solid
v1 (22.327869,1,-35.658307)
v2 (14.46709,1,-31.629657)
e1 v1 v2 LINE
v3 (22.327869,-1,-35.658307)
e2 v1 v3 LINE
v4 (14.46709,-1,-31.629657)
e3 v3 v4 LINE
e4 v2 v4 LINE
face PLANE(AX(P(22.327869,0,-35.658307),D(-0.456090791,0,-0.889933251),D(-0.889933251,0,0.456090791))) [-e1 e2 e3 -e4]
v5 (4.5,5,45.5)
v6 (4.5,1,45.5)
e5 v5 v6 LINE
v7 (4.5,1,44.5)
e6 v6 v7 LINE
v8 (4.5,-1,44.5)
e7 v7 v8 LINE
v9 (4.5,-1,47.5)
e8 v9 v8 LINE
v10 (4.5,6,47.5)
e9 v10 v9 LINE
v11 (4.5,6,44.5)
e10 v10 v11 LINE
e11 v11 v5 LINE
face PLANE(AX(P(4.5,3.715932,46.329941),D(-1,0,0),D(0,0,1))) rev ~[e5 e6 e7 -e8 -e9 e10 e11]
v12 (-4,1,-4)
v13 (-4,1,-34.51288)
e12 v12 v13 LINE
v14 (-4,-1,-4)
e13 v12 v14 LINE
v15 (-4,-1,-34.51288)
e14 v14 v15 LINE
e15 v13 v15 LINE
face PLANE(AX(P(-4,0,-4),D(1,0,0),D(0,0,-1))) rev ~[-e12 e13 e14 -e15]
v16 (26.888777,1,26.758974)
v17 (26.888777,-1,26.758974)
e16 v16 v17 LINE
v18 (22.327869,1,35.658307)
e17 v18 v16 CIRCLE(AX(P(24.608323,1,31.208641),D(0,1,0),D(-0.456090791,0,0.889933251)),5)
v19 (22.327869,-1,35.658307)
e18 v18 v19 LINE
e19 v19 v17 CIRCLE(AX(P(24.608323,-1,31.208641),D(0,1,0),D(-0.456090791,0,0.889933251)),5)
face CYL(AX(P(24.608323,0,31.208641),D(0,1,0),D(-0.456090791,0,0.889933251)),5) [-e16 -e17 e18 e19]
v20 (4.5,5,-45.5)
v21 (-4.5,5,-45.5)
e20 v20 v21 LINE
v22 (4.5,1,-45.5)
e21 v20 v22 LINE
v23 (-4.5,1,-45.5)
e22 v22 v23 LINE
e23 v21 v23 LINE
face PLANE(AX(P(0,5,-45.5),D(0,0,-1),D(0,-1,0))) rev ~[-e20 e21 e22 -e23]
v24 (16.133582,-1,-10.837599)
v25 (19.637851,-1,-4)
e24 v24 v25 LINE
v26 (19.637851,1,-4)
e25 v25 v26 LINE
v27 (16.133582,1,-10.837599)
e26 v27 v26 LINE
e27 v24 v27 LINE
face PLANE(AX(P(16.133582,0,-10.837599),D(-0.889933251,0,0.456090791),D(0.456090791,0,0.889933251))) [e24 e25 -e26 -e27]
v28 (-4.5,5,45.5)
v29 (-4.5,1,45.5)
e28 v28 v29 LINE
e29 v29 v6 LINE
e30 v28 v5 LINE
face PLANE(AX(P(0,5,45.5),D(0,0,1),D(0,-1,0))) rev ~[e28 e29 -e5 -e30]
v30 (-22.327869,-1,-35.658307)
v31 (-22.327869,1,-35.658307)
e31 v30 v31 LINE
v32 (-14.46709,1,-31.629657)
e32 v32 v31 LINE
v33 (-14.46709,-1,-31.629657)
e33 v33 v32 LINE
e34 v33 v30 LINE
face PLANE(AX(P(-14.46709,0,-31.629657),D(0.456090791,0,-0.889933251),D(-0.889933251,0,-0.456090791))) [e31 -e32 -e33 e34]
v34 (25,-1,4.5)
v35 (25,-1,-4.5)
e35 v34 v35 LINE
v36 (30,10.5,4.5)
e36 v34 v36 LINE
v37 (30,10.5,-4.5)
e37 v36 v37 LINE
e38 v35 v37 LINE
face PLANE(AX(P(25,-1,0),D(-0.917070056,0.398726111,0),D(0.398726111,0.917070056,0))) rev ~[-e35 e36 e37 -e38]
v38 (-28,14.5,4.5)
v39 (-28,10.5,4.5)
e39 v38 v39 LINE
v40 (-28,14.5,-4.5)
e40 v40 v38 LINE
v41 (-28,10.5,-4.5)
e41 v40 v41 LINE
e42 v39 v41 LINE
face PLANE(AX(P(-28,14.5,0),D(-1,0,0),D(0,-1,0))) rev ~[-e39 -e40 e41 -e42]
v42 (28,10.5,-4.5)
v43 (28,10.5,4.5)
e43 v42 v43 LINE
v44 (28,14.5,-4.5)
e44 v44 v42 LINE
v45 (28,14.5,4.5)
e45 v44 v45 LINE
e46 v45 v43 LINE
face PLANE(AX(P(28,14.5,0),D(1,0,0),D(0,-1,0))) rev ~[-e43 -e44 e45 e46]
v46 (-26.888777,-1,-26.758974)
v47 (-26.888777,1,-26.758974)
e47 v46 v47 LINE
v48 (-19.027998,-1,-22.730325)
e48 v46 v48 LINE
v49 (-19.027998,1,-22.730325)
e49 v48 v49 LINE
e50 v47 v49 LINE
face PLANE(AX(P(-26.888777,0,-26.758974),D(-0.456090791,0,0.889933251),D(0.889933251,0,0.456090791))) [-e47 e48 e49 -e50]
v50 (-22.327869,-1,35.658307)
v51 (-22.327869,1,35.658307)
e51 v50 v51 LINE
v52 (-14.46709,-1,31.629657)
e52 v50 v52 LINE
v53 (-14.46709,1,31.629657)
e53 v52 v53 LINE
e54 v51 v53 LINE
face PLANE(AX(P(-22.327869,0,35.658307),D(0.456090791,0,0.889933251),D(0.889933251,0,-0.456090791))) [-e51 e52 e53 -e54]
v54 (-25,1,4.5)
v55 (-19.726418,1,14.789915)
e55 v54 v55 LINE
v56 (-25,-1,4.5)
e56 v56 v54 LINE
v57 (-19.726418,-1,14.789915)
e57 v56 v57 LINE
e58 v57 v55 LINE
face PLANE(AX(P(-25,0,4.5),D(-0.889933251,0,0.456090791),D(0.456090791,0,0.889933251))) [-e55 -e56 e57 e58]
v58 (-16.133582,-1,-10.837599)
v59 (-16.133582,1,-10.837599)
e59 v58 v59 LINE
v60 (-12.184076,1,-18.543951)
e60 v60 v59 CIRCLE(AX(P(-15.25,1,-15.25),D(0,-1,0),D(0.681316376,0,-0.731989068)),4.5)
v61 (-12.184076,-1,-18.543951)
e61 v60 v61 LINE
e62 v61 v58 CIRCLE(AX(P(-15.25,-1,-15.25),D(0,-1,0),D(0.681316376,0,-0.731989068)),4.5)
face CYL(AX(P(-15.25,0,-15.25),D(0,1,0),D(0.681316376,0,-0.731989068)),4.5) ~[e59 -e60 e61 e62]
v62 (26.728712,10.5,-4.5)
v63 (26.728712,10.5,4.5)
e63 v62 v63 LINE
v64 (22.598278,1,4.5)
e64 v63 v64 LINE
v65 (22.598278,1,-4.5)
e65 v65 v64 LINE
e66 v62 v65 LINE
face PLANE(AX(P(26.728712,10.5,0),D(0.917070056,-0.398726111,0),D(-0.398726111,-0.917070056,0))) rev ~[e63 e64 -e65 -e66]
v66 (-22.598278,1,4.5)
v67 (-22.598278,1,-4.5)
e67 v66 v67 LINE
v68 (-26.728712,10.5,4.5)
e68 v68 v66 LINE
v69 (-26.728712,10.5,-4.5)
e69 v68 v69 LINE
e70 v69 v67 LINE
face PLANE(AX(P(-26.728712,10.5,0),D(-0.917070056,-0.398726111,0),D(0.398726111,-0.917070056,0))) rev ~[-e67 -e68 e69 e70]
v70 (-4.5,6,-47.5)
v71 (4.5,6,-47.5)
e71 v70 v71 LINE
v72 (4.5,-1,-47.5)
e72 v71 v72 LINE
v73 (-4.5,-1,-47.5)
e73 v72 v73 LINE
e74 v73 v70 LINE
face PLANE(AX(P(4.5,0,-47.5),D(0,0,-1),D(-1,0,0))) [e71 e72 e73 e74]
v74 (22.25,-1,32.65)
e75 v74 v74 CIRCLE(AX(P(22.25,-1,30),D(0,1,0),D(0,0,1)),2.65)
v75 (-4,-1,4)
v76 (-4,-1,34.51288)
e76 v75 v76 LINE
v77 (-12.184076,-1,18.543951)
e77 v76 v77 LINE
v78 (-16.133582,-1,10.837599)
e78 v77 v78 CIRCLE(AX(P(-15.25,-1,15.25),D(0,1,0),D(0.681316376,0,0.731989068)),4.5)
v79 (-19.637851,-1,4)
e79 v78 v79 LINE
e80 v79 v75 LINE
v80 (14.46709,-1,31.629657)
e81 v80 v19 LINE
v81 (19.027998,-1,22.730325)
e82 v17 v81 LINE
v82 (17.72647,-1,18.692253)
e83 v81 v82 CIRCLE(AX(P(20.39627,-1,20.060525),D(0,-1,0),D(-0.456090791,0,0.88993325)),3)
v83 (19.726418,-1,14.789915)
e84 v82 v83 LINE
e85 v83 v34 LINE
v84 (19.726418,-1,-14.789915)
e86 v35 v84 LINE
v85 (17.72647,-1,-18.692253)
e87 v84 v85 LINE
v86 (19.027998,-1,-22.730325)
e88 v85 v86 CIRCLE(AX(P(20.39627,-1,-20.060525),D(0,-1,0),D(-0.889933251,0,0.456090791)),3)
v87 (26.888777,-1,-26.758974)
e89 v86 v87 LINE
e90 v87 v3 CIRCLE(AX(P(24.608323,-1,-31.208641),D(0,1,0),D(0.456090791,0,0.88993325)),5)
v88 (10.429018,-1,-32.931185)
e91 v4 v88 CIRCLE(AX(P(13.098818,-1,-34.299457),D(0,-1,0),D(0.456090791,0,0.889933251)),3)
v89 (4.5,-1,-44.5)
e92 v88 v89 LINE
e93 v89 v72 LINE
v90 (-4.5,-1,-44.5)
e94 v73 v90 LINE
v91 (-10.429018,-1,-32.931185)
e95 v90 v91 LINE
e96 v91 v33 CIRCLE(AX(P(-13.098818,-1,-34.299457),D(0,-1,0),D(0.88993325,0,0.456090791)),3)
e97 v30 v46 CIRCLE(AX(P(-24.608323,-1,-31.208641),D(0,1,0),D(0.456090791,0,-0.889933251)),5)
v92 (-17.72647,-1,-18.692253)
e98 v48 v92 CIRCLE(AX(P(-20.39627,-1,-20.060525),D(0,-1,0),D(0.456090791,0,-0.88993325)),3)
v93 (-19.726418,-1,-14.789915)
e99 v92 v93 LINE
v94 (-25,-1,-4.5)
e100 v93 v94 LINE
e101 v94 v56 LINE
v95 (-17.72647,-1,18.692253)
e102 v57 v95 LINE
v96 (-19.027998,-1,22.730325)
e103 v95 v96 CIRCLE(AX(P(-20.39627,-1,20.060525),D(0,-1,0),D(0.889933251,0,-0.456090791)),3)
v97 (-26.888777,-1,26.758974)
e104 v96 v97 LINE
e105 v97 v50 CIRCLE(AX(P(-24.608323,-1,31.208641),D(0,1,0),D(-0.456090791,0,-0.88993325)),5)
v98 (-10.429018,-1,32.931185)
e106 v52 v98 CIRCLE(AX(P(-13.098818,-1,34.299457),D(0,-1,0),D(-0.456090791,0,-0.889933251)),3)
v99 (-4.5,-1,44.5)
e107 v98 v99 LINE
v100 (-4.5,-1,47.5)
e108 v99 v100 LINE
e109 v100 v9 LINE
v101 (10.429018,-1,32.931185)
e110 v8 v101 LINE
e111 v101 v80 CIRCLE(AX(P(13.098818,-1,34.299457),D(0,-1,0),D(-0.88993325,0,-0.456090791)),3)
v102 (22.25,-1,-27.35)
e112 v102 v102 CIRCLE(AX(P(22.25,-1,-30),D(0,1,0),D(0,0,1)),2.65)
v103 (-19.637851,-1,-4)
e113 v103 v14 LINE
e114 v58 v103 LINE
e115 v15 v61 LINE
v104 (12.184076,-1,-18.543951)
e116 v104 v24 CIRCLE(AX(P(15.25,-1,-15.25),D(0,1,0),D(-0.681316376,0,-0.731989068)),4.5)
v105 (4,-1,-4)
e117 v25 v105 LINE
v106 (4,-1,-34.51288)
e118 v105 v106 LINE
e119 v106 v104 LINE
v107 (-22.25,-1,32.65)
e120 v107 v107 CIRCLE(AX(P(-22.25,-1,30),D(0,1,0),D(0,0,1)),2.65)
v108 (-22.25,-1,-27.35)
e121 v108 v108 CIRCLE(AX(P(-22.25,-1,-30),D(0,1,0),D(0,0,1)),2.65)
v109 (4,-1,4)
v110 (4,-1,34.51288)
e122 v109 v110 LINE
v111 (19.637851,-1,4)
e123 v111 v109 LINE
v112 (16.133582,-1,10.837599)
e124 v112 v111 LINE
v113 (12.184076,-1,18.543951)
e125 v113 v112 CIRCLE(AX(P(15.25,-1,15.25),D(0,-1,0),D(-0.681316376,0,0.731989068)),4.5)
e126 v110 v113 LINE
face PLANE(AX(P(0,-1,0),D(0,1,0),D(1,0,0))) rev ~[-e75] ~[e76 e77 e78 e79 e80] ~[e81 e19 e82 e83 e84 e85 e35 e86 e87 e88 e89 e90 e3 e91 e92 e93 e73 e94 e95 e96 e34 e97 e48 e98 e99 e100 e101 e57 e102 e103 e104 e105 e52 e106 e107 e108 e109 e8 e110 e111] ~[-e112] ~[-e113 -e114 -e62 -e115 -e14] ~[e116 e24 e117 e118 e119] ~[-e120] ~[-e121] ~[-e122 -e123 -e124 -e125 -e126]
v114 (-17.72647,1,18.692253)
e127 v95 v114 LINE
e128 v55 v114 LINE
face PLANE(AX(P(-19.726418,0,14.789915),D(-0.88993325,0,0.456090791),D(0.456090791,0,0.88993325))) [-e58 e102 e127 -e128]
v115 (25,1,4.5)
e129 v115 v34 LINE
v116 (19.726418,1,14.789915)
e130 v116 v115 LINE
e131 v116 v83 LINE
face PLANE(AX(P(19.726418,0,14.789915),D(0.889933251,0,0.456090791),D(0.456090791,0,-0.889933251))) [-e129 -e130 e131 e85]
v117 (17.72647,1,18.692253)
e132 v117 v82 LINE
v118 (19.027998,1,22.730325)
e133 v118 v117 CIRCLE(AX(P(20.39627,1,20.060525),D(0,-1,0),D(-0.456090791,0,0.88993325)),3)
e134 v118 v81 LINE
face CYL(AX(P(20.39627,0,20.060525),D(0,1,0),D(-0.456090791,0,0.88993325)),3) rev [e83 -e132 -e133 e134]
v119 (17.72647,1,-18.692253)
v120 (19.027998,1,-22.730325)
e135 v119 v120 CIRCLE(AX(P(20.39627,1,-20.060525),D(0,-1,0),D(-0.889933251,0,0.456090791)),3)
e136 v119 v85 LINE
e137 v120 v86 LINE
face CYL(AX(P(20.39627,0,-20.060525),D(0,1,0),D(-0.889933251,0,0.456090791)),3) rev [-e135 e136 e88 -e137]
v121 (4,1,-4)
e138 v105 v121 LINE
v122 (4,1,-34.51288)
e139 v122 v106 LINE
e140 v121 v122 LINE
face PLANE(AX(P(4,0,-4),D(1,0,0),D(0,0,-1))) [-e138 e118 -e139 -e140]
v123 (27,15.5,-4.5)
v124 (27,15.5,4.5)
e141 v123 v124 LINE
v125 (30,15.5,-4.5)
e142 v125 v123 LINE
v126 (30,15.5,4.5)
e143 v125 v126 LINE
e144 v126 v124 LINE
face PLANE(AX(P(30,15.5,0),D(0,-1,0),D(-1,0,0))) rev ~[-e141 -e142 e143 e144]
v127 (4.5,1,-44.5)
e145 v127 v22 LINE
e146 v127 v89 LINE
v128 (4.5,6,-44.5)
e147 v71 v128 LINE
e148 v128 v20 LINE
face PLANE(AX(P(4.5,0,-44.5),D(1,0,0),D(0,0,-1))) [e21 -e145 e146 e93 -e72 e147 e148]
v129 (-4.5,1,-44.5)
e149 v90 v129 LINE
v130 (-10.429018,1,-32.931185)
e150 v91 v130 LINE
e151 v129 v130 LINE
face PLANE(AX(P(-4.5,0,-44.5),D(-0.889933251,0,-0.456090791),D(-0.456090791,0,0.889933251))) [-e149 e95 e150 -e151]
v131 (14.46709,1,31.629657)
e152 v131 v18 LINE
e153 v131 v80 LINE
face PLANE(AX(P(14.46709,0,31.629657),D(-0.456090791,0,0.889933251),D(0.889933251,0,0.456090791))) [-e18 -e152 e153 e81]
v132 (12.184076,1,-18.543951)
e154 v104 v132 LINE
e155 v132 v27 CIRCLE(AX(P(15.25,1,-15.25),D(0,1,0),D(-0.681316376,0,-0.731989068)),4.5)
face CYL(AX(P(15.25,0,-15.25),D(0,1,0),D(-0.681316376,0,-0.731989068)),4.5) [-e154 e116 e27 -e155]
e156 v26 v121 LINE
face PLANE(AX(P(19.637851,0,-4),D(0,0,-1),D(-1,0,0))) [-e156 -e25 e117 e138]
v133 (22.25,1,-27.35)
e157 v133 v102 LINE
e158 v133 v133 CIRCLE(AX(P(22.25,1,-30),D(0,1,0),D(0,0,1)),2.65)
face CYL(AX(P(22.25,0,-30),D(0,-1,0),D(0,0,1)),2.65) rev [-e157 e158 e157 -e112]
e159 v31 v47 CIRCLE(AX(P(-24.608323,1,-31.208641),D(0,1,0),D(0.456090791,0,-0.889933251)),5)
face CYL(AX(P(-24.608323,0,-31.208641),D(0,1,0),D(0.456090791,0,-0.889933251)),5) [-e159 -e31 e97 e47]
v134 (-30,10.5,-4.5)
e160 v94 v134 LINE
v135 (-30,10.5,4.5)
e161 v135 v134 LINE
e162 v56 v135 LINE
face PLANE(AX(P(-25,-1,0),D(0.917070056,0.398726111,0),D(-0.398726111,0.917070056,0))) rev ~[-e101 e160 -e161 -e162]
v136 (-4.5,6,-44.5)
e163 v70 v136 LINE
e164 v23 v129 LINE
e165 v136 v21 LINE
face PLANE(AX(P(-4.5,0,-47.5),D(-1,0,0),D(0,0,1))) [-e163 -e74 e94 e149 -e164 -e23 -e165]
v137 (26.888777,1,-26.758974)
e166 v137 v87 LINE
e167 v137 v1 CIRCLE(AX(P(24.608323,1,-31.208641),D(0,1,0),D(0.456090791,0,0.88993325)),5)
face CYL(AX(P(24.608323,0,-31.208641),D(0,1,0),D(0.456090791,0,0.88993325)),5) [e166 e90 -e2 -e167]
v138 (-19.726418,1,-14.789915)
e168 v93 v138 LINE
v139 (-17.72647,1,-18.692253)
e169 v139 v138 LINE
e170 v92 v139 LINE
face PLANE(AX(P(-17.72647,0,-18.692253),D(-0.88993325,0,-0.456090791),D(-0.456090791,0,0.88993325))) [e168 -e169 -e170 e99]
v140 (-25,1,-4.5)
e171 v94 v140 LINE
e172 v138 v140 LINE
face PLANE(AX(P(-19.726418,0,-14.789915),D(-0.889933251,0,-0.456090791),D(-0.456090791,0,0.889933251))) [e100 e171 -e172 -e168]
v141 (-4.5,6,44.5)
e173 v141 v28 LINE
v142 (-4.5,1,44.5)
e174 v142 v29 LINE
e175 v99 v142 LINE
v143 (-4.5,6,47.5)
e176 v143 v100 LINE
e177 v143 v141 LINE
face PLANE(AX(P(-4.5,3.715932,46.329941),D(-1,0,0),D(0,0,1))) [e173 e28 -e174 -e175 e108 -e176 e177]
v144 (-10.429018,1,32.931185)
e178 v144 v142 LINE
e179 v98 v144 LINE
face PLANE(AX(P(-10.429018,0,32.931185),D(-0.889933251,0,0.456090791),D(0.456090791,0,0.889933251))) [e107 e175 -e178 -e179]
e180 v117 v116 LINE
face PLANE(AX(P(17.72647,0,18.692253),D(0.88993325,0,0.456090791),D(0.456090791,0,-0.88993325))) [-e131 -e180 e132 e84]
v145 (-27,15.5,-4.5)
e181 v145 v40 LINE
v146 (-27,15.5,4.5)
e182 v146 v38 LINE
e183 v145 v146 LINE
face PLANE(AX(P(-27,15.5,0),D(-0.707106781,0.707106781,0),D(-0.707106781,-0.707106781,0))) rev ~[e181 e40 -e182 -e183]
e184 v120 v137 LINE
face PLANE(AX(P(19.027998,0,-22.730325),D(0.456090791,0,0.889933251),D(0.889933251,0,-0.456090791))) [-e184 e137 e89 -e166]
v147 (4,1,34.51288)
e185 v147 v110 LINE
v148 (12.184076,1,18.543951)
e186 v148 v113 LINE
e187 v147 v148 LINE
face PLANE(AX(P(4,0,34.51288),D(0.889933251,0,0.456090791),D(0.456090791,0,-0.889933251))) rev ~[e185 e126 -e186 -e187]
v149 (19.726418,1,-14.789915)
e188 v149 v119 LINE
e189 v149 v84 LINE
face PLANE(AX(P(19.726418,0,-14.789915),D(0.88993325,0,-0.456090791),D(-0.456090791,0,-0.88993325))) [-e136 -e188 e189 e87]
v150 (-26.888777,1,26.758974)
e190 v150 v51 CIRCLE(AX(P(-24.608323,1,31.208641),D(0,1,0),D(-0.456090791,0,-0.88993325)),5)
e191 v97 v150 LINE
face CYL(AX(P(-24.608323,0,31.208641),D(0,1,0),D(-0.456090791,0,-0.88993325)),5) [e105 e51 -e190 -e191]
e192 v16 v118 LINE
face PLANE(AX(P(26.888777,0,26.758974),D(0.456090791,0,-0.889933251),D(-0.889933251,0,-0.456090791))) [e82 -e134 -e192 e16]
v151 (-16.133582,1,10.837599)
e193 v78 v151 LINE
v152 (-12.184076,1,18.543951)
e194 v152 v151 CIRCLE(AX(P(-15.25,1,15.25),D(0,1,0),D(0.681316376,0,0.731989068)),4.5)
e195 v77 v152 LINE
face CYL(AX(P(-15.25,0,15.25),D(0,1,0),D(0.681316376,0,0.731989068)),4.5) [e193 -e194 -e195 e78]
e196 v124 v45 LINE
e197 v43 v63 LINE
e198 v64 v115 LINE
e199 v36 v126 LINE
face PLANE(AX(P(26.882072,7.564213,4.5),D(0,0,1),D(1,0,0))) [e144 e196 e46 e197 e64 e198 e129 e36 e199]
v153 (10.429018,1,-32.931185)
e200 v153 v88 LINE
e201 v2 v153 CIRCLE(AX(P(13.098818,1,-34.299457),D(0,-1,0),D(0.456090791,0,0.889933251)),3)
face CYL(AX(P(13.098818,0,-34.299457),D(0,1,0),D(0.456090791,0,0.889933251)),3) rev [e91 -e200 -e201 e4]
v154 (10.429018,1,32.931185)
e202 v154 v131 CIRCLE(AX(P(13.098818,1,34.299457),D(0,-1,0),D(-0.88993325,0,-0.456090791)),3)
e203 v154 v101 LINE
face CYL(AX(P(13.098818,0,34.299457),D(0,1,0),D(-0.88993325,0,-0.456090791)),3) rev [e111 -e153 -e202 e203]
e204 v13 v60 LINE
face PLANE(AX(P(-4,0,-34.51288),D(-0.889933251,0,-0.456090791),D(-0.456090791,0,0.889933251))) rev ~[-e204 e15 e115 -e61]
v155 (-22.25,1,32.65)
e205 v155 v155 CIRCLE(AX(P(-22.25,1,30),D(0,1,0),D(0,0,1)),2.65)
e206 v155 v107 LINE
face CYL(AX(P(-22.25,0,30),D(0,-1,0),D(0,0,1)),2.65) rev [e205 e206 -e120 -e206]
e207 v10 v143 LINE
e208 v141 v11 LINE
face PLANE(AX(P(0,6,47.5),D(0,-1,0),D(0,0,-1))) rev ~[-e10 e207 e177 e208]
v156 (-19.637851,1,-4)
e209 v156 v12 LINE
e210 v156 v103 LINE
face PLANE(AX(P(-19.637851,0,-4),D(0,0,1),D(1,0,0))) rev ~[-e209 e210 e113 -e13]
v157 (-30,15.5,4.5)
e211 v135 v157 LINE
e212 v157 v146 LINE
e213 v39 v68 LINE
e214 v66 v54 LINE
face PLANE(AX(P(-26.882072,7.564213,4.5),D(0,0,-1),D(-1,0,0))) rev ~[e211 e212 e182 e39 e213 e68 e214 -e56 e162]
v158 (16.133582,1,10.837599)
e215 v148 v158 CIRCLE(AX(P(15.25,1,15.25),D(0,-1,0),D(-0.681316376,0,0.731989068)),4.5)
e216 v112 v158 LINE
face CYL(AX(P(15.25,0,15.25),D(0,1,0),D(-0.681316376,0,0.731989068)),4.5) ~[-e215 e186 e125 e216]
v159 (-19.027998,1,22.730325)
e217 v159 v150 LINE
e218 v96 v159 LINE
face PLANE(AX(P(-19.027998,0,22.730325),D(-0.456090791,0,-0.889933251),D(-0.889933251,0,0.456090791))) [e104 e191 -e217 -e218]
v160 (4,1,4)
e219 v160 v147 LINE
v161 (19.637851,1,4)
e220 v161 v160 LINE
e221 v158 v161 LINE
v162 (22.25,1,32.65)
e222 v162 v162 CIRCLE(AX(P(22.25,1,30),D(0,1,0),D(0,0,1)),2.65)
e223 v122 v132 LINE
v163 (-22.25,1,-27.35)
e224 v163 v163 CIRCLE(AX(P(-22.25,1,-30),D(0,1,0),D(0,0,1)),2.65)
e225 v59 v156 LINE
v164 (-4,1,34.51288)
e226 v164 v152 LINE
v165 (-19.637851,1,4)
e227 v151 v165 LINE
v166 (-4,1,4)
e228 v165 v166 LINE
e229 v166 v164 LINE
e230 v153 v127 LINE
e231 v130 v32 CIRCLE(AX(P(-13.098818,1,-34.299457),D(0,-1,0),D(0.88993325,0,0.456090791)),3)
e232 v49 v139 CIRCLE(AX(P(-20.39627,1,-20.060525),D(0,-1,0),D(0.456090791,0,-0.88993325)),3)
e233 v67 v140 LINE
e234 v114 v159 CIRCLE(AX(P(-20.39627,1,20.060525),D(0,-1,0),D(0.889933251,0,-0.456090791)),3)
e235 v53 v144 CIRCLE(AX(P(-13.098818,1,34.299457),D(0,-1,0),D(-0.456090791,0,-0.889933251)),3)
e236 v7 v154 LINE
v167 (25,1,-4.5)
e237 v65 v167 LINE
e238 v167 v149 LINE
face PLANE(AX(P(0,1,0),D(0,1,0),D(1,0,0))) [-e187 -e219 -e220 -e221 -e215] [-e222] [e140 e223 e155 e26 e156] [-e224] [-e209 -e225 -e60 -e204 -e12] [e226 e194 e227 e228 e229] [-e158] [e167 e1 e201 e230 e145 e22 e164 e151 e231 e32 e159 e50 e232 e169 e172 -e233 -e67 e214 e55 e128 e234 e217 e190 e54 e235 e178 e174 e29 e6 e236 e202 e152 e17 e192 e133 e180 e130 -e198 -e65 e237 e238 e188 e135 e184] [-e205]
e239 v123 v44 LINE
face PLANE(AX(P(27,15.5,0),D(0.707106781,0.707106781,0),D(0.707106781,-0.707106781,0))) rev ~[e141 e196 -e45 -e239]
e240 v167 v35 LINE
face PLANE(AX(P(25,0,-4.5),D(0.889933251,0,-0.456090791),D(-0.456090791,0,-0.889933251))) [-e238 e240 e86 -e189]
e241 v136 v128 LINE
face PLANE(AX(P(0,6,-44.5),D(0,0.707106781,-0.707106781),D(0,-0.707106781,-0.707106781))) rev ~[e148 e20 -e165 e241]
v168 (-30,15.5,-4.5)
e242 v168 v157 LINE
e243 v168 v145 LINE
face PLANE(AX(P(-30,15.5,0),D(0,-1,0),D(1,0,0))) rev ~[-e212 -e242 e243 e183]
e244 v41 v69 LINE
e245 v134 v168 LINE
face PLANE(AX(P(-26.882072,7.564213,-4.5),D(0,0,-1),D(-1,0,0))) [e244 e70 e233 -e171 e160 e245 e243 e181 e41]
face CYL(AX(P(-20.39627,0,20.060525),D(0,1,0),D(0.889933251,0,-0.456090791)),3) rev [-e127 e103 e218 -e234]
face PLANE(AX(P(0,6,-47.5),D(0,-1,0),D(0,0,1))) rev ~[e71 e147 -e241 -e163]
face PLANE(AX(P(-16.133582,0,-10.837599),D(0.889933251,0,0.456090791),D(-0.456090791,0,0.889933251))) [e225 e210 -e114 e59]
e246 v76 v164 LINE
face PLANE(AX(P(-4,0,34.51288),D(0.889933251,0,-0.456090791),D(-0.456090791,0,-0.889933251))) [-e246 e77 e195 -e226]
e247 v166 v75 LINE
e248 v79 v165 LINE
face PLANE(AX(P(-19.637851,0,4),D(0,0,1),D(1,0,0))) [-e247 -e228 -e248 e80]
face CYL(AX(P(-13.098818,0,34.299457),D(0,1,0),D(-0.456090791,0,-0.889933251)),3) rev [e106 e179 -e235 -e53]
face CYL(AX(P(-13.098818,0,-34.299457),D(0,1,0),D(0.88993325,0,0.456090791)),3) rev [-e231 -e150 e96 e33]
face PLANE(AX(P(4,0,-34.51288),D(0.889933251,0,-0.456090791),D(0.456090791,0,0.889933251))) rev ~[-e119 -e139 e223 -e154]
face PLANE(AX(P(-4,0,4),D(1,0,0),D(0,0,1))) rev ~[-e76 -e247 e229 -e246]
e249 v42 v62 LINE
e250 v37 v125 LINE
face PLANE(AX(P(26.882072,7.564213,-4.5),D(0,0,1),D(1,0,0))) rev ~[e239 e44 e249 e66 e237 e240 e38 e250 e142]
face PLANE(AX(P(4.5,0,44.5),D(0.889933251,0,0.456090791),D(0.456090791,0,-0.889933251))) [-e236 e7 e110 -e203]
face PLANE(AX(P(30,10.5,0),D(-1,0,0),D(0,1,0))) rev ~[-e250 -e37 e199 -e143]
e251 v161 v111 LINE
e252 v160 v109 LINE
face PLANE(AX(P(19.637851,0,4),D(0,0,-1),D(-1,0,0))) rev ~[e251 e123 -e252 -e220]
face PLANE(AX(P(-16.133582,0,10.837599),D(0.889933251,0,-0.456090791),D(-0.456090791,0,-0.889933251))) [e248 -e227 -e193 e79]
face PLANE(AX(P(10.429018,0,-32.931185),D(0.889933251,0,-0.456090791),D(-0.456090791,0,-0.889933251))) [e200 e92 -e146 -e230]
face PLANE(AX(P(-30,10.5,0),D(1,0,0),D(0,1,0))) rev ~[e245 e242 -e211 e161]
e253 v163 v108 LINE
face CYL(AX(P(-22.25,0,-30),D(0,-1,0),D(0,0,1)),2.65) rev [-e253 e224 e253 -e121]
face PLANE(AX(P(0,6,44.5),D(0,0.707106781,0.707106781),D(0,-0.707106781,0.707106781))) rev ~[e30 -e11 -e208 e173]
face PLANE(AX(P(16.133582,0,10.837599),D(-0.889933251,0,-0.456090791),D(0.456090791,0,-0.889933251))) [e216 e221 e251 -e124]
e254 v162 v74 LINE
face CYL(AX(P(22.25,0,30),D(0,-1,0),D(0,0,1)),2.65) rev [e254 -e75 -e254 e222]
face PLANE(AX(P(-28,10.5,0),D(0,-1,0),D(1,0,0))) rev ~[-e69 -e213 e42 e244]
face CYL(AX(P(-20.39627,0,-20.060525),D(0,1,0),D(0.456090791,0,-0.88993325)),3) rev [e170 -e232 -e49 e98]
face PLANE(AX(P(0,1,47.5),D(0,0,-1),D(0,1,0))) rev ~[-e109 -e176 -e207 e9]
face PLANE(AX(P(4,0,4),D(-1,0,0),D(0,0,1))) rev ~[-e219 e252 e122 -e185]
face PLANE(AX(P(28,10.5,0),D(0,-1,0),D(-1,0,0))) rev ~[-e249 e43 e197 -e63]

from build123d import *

# Parameters (mm, degrees)
SKETCH1_R           = 2.65
BOSS_EXTRUDE1_DEPTH = 1
BOSS_EXTRUDE4_DEPTH = 4.5
BOSS_EXTRUDE5_DEPTH = 4.5


with BuildPart() as part:
    # Sketch1 → Boss-Extrude1 (new, symmetric)
    with BuildSketch(Plane(origin=(0, 0, 0), x_dir=(1, 0, 0), z_dir=(0, 1, 0))):
        with BuildLine():
            Line((4.5, 47.5), (-4.5, 47.5))
            Line((-4.5, 47.5), (-4.5, 44.5))
            Line((-4.5, 44.5), (-10.429017764, 32.931184851))
            ThreePointArc((-10.429017764, 32.931184851), (-12.17849868, 31.444109042), (-14.467089888, 31.629657472))
            Line((-14.467089888, 31.629657472), (-22.327869159, 35.658306849))
            ThreePointArc((-22.327869159, 35.658306849), (-29.057989367, 33.48909455), (-26.888777069, 26.758974343))
            Line((-26.888777069, 26.758974343), (-19.027997797, 22.730324967))
            ThreePointArc((-19.027997797, 22.730324967), (-17.540921988, 20.980844051), (-17.726470418, 18.692252842))
            Line((-17.726470418, 18.692252842), (-19.726418437, 14.789915246))
            Line((-19.726418437, 14.789915246), (-25, 4.5))
            Line((-25, 4.5), (-25, -4.5))
            Line((-25, -4.5), (-19.726418437, -14.789915246))
            Line((-19.726418437, -14.789915246), (-17.726470418, -18.692252842))
            ThreePointArc((-17.726470418, -18.692252842), (-17.540921988, -20.980844051), (-19.027997797, -22.730324967))
            Line((-19.027997797, -22.730324967), (-26.888777069, -26.758974343))
            ThreePointArc((-26.888777069, -26.758974343), (-29.057989367, -33.48909455), (-22.327869159, -35.658306849))
            Line((-22.327869159, -35.658306849), (-14.467089888, -31.629657472))
            ThreePointArc((-14.467089888, -31.629657472), (-12.17849868, -31.444109042), (-10.429017764, -32.931184851))
            Line((-10.429017764, -32.931184851), (-4.5, -44.5))
            Line((-4.5, -44.5), (-4.5, -47.5))
            Line((-4.5, -47.5), (4.5, -47.5))
            Line((4.5, -47.5), (4.5, -44.5))
            Line((4.5, -44.5), (10.429017764, -32.931184851))
            ThreePointArc((10.429017764, -32.931184851), (12.17849868, -31.444109042), (14.467089888, -31.629657472))
            Line((14.467089888, -31.629657472), (22.327869159, -35.658306849))
            ThreePointArc((22.327869159, -35.658306849), (29.057989367, -33.48909455), (26.888777069, -26.758974343))
            Line((26.888777069, -26.758974343), (19.027997797, -22.730324967))
            ThreePointArc((19.027997797, -22.730324967), (17.540921988, -20.980844051), (17.726470418, -18.692252842))
            Line((17.726470418, -18.692252842), (19.726418437, -14.789915246))
            Line((19.726418437, -14.789915246), (25, -4.5))
            Line((25, -4.5), (25, 4.5))
            Line((25, 4.5), (19.726418437, 14.789915246))
            Line((19.726418437, 14.789915246), (17.726470418, 18.692252842))
            ThreePointArc((17.726470418, 18.692252842), (17.540921988, 20.980844051), (19.027997797, 22.730324967))
            Line((19.027997797, 22.730324967), (26.888777069, 26.758974343))
            ThreePointArc((26.888777069, 26.758974343), (29.057989367, 33.48909455), (22.327869159, 35.658306849))
            Line((22.327869159, 35.658306849), (14.467089888, 31.629657472))
            ThreePointArc((14.467089888, 31.629657472), (12.17849868, 31.444109042), (10.429017764, 32.931184851))
            Line((10.429017764, 32.931184851), (4.5, 44.5))
            Line((4.5, 44.5), (4.5, 47.5))
        make_face()
        with Locations(Location((-22.25, 30, 0), (0, 0, 270))):
            Circle(SKETCH1_R, mode=Mode.SUBTRACT)
        with Locations(Location((-22.25, -30, 0), (0, 0, 270))):
            Circle(SKETCH1_R, mode=Mode.SUBTRACT)
        with Locations(Location((22.25, 30, 0), (0, 0, 270))):
            Circle(SKETCH1_R, mode=Mode.SUBTRACT)
        with Locations(Location((22.25, -30, 0), (0, 0, 270))):
            Circle(SKETCH1_R, mode=Mode.SUBTRACT)
        with BuildLine():
            Line((-4, 34.512880186), (-12.184076307, 18.543950806))
            ThreePointArc((-12.184076307, 18.543950806), (-11.245300372, 13.197591441), (-16.133581658, 10.837598902))
            Line((-16.133581658, 10.837598902), (-19.637851096, 4))
            Line((-19.637851096, 4), (-4, 4))
            Line((-4, 4), (-4, 34.512880186))
        make_face(mode=Mode.SUBTRACT)
        with BuildLine():
            Line((4, 4), (4, 34.512880186))
            Line((4, 34.512880186), (12.184076307, 18.543950806))
            ThreePointArc((12.184076307, 18.543950806), (11.245300372, 13.197591441), (16.133581658, 10.837598902))
            Line((16.133581658, 10.837598902), (19.637851096, 4))
            Line((19.637851096, 4), (4, 4))
        make_face(mode=Mode.SUBTRACT)
        with BuildLine():
            Line((4, -34.512880186), (12.184076307, -18.543950806))
            ThreePointArc((12.184076307, -18.543950806), (11.245300372, -13.197591441), (16.133581658, -10.837598902))
            Line((16.133581658, -10.837598902), (19.637851096, -4))
            Line((19.637851096, -4), (4, -4))
            Line((4, -4), (4, -34.512880186))
        make_face(mode=Mode.SUBTRACT)
        with BuildLine():
            Line((-4, -4), (-4, -34.512880186))
            Line((-4, -34.512880186), (-12.184076307, -18.543950806))
            ThreePointArc((-12.184076307, -18.543950806), (-11.245300372, -13.197591441), (-16.133581658, -10.837598902))
            Line((-16.133581658, -10.837598902), (-19.637851096, -4))
            Line((-19.637851096, -4), (-4, -4))
        make_face(mode=Mode.SUBTRACT)
    extrude(amount=BOSS_EXTRUDE1_DEPTH, both=True)

    # Sketch6 → Boss-Extrude4 (add, symmetric)
    with BuildSketch(Plane(origin=(0, 0, 0), x_dir=(0, 0, -1), z_dir=(1, 0, 0))):
        Polygon((47.5, 1), (47.5, 6), (44.5, 6), (45.5, 5), (45.5, 1), align=None)
        Polygon((-45.5, 1), (-47.5, 1), (-47.5, 6), (-44.5, 6), (-45.5, 5), align=None)
    extrude(amount=BOSS_EXTRUDE4_DEPTH, both=True)

    # Sketch4 → Boss-Extrude5 (add, symmetric)
    with BuildSketch(Plane.XY):
        Polygon((30, 10.5), (30, 15.5), (27, 15.5), (28, 14.5), (28, 10.5), (26.728712295, 10.5), (22.598277512, 1), (25, 1), (25, -1), align=None)
        Polygon((-28, 14.5), (-28, 10.5), (-26.728712295, 10.5), (-22.598277512, 1), (-25, 1), (-25, -1), (-30, 10.5), (-30, 15.5), (-27, 15.5), align=None)
    extrude(amount=BOSS_EXTRUDE5_DEPTH, both=True)


solid = part.part
